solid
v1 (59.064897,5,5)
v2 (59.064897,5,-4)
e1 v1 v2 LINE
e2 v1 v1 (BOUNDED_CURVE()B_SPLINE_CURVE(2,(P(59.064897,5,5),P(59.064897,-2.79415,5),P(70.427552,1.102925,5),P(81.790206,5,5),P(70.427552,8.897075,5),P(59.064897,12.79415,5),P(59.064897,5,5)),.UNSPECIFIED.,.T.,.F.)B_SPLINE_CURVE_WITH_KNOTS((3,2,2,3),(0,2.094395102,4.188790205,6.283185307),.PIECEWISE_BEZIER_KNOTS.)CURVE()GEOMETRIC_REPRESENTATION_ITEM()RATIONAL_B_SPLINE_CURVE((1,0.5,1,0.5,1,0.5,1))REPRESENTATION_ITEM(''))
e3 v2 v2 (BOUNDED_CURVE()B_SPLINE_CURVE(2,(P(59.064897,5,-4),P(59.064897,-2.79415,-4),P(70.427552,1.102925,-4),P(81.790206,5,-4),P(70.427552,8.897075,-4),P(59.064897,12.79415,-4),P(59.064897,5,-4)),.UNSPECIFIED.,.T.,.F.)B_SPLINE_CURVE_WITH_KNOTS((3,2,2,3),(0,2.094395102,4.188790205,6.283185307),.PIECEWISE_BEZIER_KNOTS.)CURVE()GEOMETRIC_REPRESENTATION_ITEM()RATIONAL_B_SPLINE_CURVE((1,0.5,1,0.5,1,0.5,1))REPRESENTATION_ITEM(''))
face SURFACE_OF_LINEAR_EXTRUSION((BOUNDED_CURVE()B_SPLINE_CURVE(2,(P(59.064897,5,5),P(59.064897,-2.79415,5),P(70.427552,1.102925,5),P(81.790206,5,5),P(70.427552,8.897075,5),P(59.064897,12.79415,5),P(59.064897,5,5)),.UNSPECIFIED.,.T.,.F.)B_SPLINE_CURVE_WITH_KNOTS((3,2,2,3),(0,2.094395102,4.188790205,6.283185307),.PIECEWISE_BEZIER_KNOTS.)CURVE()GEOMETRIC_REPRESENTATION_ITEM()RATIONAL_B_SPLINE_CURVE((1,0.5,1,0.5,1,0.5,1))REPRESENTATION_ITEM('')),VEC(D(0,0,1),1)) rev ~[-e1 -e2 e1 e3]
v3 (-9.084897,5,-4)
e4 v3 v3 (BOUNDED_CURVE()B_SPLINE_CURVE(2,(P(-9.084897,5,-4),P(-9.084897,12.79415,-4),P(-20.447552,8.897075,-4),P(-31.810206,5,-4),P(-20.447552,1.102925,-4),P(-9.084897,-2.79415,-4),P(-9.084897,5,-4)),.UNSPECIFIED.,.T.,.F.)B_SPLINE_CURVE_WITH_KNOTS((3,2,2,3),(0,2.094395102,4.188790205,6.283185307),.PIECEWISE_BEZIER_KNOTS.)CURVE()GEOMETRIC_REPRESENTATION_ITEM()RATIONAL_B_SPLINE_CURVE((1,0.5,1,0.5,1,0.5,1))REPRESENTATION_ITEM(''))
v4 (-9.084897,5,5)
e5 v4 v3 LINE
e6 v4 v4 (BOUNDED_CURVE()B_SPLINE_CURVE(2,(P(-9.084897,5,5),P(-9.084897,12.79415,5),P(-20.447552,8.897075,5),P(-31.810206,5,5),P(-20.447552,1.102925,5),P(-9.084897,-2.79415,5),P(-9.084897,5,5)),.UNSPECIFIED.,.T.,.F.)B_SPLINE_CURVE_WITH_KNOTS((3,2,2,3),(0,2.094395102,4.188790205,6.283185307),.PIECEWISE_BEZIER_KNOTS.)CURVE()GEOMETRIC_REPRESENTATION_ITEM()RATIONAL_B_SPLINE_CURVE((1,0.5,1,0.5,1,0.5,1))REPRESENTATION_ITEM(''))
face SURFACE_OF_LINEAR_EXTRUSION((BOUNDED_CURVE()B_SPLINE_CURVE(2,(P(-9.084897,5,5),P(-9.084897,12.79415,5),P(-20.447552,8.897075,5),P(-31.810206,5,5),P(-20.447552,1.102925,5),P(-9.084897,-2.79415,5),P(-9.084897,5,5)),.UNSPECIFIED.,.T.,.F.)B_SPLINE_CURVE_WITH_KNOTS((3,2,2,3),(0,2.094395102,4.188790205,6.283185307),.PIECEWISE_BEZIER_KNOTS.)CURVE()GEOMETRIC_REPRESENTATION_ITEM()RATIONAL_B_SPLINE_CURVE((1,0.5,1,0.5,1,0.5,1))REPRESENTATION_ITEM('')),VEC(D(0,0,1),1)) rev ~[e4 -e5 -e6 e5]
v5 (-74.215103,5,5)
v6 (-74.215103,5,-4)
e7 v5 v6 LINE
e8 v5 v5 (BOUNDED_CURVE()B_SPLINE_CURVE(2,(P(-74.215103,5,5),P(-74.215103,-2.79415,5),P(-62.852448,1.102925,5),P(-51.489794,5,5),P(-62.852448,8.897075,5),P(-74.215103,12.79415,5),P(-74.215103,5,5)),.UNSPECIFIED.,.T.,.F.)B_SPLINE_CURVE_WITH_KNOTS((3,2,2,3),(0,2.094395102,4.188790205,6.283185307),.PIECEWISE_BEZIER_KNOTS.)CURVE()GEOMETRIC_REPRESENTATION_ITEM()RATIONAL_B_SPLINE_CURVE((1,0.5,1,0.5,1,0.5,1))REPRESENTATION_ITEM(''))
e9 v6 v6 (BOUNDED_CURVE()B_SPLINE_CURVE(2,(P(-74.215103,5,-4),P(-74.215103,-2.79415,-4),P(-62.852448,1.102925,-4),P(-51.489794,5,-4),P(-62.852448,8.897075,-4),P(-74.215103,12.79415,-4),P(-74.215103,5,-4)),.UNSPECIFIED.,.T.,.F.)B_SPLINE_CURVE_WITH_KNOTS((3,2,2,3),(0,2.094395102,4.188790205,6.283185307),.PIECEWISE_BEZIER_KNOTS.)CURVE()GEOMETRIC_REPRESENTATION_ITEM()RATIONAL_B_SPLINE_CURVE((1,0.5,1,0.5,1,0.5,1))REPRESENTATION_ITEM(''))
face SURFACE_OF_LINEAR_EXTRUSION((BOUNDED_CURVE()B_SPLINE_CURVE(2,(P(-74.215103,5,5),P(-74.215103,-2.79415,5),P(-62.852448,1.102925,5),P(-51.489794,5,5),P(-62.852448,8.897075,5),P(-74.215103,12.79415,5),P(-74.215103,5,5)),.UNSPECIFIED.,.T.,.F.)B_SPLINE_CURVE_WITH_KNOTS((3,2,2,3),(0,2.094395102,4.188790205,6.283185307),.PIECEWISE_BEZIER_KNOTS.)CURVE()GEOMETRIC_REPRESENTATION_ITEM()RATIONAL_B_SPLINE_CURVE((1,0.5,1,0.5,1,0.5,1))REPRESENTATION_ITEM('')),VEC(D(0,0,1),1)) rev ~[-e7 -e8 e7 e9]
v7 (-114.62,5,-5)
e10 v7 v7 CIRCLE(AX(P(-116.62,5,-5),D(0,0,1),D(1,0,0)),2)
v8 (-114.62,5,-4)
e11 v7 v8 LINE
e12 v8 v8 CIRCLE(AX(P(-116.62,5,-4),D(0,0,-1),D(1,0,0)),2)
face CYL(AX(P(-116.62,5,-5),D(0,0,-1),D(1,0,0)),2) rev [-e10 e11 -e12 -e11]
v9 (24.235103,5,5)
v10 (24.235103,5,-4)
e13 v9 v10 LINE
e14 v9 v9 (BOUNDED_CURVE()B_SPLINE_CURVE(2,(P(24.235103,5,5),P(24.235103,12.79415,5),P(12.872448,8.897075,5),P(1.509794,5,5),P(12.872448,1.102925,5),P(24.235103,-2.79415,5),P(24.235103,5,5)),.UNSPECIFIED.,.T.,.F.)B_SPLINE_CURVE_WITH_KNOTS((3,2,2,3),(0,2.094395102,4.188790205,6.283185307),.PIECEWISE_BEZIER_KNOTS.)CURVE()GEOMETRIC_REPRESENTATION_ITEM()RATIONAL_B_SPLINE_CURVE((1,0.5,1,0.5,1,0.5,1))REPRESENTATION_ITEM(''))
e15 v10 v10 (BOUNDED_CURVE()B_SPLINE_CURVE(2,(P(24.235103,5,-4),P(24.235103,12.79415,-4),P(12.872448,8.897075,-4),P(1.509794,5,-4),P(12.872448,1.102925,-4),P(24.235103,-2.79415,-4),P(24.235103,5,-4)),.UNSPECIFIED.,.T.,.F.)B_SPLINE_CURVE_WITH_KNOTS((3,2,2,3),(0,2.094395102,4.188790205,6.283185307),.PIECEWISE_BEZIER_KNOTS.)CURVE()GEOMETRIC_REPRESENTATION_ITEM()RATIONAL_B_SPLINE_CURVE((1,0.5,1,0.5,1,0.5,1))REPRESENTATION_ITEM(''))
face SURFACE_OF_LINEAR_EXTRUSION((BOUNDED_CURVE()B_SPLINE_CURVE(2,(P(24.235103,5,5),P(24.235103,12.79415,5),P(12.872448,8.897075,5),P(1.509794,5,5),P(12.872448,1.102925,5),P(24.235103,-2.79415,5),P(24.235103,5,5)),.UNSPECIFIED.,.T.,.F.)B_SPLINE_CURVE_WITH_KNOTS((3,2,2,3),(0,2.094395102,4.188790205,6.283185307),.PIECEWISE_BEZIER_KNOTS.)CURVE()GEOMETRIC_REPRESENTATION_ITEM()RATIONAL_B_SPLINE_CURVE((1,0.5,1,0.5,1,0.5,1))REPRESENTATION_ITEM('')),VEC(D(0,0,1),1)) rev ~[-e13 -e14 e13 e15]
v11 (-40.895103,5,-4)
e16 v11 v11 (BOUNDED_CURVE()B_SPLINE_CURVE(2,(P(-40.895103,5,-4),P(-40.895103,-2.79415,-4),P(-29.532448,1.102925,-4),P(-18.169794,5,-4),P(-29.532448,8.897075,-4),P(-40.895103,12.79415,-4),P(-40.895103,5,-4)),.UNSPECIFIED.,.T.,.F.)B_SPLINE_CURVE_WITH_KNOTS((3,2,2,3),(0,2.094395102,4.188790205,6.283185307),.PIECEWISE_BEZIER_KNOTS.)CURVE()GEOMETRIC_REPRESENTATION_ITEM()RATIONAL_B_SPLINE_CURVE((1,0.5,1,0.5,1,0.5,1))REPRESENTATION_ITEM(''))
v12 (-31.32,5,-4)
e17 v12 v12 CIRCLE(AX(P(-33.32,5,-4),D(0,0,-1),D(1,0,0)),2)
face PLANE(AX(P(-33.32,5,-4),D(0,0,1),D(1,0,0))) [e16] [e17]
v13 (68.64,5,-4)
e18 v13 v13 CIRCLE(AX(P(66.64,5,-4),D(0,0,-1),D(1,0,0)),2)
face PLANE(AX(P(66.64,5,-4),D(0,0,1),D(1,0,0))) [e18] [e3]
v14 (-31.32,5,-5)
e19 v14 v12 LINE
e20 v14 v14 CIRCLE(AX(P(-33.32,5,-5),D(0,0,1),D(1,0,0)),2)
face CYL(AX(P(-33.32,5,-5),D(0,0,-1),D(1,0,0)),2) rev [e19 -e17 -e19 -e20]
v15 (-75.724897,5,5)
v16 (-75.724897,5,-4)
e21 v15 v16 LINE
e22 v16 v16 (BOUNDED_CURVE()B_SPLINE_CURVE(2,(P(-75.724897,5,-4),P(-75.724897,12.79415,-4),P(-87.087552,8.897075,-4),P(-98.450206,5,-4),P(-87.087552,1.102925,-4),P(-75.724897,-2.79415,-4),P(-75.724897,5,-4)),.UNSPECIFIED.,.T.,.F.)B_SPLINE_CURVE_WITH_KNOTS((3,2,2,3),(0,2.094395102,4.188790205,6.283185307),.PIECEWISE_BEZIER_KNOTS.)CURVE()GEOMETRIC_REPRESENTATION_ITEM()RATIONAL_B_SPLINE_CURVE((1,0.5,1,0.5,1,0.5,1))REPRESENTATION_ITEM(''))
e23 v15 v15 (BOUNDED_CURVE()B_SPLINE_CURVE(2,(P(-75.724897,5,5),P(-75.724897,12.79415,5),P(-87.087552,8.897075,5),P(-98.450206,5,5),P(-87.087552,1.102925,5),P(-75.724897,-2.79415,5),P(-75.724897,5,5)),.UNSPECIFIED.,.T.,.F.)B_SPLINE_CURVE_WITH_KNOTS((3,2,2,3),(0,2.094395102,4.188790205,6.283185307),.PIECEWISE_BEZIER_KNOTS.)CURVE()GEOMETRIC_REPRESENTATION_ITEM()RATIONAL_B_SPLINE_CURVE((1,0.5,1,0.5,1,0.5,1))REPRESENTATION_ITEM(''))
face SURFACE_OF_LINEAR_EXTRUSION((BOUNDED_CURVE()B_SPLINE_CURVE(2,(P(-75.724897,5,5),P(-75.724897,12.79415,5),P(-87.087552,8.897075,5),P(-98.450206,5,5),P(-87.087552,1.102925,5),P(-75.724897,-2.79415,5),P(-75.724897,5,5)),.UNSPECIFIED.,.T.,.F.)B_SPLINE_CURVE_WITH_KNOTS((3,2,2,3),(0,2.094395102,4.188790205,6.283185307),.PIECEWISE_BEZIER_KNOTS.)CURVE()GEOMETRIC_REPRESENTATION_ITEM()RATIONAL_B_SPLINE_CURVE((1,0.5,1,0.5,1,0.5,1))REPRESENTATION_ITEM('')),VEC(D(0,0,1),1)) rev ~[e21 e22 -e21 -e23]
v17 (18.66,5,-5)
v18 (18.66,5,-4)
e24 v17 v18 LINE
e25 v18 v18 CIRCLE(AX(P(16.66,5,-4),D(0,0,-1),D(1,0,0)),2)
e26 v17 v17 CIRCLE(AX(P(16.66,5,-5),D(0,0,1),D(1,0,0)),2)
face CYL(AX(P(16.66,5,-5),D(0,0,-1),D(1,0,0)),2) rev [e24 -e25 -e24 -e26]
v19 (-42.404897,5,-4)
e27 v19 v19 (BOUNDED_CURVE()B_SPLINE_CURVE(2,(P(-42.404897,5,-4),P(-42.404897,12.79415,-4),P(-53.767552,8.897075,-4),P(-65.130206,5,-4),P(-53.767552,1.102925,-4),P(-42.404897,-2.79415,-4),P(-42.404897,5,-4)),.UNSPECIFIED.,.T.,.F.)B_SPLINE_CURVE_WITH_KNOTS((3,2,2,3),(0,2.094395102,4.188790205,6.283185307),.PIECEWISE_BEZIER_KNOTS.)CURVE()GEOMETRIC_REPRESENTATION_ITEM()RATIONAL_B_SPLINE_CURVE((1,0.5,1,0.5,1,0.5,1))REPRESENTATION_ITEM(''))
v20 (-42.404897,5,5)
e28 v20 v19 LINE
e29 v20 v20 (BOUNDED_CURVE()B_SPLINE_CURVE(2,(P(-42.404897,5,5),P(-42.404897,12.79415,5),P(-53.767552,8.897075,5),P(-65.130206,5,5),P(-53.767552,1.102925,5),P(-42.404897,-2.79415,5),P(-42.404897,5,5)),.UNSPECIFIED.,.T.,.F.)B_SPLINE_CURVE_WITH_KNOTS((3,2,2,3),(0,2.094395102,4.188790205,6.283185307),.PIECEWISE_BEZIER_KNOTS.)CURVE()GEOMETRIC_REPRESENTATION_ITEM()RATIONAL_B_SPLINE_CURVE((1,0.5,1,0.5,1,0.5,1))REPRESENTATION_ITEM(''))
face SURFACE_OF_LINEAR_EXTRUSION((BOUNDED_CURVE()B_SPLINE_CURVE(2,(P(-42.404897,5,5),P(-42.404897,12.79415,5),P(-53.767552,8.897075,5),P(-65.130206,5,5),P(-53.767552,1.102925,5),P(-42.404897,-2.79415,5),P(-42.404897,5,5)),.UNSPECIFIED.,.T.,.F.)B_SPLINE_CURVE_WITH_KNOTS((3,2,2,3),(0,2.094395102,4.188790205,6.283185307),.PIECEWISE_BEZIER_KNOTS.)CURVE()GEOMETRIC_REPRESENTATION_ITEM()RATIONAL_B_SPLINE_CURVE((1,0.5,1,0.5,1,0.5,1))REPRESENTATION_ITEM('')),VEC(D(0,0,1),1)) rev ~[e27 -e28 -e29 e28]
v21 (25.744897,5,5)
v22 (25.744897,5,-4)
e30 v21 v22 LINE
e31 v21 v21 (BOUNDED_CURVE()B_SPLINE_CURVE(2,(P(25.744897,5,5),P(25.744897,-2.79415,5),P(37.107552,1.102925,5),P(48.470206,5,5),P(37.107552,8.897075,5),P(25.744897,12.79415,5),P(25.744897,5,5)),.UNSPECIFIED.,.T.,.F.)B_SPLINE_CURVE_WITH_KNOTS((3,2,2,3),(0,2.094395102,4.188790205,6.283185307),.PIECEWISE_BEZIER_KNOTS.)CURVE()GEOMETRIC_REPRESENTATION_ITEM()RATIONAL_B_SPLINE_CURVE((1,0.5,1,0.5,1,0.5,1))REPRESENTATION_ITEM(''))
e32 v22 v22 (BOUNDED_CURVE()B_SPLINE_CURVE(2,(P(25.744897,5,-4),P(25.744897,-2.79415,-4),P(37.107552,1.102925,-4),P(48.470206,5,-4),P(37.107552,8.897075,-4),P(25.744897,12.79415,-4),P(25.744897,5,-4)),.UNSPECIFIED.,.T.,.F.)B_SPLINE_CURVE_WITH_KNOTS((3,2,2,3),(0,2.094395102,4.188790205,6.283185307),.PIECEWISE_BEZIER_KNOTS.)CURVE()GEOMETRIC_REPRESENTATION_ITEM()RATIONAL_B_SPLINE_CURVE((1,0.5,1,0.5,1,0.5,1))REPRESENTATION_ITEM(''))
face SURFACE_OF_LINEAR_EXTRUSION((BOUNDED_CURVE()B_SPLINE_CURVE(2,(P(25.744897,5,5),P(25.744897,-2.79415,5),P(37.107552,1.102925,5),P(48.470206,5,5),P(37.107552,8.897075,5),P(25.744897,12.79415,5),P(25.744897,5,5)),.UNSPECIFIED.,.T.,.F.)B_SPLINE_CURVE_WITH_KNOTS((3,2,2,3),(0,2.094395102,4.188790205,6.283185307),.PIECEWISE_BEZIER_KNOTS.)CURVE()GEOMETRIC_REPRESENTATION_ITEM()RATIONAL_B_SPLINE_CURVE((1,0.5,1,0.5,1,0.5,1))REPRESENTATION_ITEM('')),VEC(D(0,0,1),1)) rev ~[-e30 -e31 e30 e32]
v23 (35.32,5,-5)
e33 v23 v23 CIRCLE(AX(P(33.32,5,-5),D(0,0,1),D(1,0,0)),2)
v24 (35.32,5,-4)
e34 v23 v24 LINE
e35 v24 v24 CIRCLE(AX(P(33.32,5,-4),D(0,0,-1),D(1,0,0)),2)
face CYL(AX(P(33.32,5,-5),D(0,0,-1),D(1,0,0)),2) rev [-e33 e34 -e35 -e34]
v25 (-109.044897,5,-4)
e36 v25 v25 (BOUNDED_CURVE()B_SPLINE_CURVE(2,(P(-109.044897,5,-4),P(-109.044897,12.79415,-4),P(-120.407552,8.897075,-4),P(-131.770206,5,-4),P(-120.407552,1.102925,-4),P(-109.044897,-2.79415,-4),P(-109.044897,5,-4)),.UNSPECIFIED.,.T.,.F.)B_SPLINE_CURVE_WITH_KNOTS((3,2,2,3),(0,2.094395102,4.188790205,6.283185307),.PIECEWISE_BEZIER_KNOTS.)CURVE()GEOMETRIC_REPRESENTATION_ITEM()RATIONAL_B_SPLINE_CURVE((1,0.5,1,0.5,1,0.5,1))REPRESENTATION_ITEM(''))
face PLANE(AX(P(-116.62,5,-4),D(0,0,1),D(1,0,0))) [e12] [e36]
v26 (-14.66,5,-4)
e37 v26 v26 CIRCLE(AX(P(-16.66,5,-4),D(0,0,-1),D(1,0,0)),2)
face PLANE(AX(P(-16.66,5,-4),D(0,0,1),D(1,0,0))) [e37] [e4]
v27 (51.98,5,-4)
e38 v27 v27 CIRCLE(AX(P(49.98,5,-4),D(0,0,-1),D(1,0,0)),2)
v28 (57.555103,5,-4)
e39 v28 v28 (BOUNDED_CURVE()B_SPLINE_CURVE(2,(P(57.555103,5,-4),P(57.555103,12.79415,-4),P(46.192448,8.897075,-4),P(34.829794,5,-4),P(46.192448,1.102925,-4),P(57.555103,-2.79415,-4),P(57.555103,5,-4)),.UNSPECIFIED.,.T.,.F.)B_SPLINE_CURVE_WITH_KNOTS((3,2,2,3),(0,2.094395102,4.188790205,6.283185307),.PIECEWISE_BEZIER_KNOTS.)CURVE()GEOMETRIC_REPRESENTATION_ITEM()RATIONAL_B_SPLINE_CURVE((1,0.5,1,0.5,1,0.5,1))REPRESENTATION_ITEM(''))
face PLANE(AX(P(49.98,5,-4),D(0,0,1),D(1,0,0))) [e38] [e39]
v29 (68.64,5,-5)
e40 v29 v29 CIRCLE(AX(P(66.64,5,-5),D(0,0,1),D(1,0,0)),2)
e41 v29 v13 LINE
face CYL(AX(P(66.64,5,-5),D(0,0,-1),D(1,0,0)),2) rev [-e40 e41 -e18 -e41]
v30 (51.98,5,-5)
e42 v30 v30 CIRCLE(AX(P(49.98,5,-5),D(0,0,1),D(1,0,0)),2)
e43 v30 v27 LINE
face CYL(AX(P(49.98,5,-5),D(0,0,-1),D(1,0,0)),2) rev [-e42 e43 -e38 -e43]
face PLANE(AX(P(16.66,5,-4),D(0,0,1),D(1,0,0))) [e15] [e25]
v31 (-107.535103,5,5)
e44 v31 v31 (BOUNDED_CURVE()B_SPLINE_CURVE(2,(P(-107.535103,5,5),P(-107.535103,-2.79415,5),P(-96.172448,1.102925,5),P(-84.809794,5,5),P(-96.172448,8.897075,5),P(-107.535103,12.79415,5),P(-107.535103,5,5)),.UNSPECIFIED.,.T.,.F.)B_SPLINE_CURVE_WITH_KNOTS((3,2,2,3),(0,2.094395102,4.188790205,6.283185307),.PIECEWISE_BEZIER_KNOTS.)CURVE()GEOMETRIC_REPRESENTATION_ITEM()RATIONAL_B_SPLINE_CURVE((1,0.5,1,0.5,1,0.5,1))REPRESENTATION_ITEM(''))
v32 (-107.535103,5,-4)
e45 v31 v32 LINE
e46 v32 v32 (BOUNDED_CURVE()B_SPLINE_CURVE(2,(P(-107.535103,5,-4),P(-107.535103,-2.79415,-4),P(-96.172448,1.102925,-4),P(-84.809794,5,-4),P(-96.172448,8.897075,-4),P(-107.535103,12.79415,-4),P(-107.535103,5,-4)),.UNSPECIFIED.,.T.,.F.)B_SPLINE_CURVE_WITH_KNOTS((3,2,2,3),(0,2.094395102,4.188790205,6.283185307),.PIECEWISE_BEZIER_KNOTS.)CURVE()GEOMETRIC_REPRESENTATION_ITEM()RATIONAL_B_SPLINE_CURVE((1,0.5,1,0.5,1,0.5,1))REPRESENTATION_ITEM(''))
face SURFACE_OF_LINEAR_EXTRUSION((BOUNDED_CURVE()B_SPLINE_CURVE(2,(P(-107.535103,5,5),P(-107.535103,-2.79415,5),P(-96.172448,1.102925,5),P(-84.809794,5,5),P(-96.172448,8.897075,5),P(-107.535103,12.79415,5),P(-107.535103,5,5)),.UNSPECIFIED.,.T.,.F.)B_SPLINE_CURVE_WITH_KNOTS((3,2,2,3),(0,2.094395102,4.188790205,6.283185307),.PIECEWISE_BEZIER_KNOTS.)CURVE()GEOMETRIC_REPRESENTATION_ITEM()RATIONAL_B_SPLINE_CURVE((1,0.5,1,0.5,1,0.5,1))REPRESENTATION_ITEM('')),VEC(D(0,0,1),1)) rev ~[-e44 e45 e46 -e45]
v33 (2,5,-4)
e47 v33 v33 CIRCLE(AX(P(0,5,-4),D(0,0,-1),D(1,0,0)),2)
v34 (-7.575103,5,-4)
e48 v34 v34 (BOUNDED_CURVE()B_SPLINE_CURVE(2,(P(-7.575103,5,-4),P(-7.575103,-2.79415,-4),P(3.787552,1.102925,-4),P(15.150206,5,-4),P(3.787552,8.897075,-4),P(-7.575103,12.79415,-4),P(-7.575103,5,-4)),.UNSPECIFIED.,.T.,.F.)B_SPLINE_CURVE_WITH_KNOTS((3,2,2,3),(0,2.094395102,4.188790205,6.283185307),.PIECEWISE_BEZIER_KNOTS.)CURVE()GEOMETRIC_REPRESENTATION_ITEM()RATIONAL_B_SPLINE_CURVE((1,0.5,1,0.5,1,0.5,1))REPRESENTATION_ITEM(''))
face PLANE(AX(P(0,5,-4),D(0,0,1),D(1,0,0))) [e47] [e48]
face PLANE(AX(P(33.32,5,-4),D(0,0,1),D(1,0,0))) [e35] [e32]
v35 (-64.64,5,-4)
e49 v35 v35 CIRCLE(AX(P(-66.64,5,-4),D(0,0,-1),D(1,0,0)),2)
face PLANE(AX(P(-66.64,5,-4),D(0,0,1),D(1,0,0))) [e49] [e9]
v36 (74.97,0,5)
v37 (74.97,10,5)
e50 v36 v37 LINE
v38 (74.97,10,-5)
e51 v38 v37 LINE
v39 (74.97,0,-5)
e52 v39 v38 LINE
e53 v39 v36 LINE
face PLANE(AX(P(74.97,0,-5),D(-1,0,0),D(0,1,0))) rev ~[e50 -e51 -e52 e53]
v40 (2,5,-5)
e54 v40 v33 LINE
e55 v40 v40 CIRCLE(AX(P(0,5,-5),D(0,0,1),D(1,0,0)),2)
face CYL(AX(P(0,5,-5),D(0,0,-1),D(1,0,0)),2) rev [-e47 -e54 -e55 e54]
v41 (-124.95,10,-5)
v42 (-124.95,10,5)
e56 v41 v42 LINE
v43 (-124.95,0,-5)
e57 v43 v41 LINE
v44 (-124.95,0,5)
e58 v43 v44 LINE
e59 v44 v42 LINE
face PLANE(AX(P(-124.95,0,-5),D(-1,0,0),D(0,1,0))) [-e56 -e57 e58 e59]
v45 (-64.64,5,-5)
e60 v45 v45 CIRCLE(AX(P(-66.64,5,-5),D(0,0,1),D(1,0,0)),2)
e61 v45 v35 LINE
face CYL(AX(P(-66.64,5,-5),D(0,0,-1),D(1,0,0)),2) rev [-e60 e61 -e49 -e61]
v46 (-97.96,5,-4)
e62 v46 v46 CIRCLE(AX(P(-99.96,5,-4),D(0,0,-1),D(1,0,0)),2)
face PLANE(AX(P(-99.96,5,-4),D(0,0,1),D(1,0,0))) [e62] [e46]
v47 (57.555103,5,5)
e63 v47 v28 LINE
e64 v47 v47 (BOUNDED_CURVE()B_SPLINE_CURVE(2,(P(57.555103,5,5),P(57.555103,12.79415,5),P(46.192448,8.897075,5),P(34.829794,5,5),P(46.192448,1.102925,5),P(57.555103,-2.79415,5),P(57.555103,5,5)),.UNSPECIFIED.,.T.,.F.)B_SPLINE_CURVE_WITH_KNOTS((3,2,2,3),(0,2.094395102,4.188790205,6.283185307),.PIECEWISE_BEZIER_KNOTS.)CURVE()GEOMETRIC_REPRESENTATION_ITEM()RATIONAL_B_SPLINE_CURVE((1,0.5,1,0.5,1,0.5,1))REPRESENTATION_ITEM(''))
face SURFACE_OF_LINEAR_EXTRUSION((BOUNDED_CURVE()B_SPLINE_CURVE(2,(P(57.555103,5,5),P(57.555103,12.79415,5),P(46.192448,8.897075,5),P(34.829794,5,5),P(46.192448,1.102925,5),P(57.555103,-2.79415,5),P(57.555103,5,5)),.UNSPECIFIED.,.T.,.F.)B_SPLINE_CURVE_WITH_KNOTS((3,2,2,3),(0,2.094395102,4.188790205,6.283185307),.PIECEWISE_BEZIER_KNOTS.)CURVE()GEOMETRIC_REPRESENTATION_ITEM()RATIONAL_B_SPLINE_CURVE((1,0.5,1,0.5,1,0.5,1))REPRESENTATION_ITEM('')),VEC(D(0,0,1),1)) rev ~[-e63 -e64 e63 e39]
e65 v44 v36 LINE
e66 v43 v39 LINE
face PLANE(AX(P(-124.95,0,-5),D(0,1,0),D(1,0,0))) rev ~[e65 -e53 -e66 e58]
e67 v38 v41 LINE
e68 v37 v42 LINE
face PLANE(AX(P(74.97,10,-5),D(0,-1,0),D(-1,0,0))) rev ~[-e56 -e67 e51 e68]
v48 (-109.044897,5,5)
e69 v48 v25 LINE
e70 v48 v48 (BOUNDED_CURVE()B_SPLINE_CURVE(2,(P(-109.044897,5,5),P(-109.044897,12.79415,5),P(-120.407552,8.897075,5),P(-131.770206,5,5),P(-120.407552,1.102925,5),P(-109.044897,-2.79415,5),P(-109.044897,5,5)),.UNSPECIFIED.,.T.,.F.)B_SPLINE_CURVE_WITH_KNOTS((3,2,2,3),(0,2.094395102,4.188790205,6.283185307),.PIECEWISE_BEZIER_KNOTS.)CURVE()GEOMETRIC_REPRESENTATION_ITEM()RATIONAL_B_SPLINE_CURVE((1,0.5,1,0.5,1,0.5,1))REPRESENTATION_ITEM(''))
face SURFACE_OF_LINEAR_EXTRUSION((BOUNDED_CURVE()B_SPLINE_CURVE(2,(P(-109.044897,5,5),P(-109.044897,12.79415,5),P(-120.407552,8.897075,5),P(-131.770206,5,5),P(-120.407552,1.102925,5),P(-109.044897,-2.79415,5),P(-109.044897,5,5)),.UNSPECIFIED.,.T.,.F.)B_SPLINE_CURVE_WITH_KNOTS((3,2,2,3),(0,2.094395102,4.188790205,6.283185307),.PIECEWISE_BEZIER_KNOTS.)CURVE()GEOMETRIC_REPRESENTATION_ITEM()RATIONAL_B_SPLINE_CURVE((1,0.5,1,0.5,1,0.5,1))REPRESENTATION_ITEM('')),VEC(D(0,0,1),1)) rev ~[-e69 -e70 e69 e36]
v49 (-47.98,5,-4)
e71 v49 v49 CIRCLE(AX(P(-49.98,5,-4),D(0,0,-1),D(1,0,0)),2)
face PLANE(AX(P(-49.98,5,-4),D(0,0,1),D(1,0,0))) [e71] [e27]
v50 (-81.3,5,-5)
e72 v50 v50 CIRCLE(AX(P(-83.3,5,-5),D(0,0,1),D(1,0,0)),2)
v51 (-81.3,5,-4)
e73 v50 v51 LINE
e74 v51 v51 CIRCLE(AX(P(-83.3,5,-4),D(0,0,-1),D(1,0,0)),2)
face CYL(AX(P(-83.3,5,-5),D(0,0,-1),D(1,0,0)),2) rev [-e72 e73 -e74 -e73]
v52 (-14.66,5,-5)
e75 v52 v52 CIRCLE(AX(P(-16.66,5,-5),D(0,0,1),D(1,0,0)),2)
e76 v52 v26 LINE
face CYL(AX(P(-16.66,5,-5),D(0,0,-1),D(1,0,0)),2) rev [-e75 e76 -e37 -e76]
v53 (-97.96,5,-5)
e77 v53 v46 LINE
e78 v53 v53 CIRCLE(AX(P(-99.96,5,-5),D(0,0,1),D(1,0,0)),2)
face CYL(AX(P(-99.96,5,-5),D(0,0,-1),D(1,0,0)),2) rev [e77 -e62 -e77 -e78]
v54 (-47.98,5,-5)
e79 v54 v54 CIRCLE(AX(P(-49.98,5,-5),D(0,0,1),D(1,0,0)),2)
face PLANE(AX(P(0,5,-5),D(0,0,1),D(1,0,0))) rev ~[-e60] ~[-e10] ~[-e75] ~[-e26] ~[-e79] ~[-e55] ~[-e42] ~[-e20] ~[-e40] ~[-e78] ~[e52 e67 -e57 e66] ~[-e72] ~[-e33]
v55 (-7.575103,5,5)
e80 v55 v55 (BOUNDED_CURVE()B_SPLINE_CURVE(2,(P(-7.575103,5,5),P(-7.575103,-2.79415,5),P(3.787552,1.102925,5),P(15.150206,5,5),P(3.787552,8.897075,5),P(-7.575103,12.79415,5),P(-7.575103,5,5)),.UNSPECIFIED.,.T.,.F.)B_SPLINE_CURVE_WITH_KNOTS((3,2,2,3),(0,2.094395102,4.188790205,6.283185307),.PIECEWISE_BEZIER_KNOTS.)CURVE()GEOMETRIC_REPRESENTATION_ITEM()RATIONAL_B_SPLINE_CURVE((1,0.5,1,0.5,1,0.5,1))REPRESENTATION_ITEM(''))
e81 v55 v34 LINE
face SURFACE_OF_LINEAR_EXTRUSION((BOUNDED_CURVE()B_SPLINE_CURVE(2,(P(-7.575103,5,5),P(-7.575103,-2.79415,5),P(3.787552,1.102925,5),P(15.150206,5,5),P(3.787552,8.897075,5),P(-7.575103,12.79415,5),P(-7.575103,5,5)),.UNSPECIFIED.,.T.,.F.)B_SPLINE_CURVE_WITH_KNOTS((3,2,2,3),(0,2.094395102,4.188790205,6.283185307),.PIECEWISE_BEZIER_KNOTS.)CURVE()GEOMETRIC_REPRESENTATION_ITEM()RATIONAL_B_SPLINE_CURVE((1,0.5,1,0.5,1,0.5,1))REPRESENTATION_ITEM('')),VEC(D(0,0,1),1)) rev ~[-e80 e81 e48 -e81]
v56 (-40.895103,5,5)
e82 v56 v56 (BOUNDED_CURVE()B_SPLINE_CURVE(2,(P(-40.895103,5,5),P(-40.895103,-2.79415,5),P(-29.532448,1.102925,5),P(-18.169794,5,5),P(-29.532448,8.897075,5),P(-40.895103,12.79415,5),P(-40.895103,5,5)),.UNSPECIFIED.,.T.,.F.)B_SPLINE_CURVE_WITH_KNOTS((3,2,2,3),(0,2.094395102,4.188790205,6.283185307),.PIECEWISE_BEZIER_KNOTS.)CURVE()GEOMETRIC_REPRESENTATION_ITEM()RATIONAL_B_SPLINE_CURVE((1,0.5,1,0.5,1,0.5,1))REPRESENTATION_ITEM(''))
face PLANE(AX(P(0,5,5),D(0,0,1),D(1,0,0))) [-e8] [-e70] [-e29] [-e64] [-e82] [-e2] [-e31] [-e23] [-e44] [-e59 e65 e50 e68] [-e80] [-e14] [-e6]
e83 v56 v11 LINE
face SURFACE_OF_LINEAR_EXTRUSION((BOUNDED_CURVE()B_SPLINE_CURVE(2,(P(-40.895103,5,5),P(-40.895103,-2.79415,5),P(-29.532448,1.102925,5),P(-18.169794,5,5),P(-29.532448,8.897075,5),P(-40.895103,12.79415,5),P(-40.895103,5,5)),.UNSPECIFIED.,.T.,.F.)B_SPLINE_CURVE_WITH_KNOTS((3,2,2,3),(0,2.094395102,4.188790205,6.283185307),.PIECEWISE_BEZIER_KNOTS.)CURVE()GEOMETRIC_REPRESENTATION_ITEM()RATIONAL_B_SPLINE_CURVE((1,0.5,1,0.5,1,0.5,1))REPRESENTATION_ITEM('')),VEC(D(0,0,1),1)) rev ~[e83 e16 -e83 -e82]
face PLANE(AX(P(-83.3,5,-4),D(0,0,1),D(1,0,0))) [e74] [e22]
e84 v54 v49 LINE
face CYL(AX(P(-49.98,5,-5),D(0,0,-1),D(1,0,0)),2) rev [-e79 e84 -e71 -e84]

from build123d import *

# Parameters (mm, degrees)
F0_W     = 16.66
F0_H     = 10
F0_R     = 2
F1_DEPTH = 10
F4_DEPTH = 9
F5_ANGLE = -90


with BuildPart() as f1:
    # F0 (on Front) → F1 (new body)
    with BuildSketch(Plane.XZ):
        Rectangle(F0_W, F0_H)
        Circle(F0_R, mode=Mode.SUBTRACT)
        with Locations((-16.66, 0)):
            Rectangle(F0_W, F0_H)
        with Locations((-16.66, 0)):
            Circle(F0_R, mode=Mode.SUBTRACT)
        with Locations((16.66, 0)):
            Rectangle(F0_W, F0_H)
        with Locations((16.66, 0)):
            Circle(F0_R, mode=Mode.SUBTRACT)
        with Locations((-33.32, 0)):
            Rectangle(F0_W, F0_H)
        with Locations((-33.32, 0)):
            Circle(F0_R, mode=Mode.SUBTRACT)
        with Locations((33.32, 0)):
            Rectangle(F0_W, F0_H)
        with Locations((33.32, 0)):
            Circle(F0_R, mode=Mode.SUBTRACT)
        with Locations((-49.98, 0)):
            Rectangle(F0_W, F0_H)
        with Locations((-49.98, 0)):
            Circle(F0_R, mode=Mode.SUBTRACT)
        with Locations((49.98, 0)):
            Rectangle(F0_W, F0_H)
        with Locations((49.98, 0)):
            Circle(F0_R, mode=Mode.SUBTRACT)
        with Locations((-66.64, 0)):
            Rectangle(F0_W, F0_H)
        with Locations((-66.64, 0)):
            Circle(F0_R, mode=Mode.SUBTRACT)
        with Locations((66.64, 0)):
            Rectangle(F0_W, F0_H)
        with Locations((66.64, 0)):
            Circle(F0_R, mode=Mode.SUBTRACT)
        with Locations((-83.3, 0)):
            Rectangle(F0_W, F0_H)
        with Locations((-83.3, 0)):
            Circle(F0_R, mode=Mode.SUBTRACT)
        with Locations((-99.96, 0)):
            Rectangle(F0_W, F0_H)
        with Locations((-99.96, 0)):
            Circle(F0_R, mode=Mode.SUBTRACT)
        with Locations((-116.62, 0)):
            Rectangle(F0_W, F0_H)
        with Locations((-116.62, 0)):
            Circle(F0_R, mode=Mode.SUBTRACT)
    extrude(amount=F1_DEPTH)

    # F3 (on offset) → F4 (cut)
    with BuildSketch(Plane.XZ.offset(10)):
        with BuildLine():
            add(Edge.make_bspline(
                [(-75.7248969182, 0), (-75.7248969182, 7.7941499762), (-87.0875515409, 3.8970749881), (-98.4502061635, 0), (-87.0875515409, -3.8970749881), (-75.7248969182, -7.7941499762), (-75.7248969182, 0)],
                knots=[0, 0, 0, 2.0943951024, 2.0943951024, 4.1887902048, 4.1887902048, 6.2831853072, 6.2831853072, 6.2831853072], degree=2, weights=[1, 0.5, 1, 0.5, 1, 0.5, 1]))
        make_face()
        with BuildLine():
            add(Edge.make_bspline(
                [(-109.0448969182, 0), (-109.0448969182, 7.7941499762), (-120.4075515409, 3.8970749881), (-131.7702061635, 0), (-120.4075515409, -3.8970749881), (-109.0448969182, -7.7941499762), (-109.0448969182, 0)],
                knots=[0, 0, 0, 2.0943951024, 2.0943951024, 4.1887902048, 4.1887902048, 6.2831853072, 6.2831853072, 6.2831853072], degree=2, weights=[1, 0.5, 1, 0.5, 1, 0.5, 1]))
        make_face()
        with BuildLine():
            add(Edge.make_bspline(
                [(-107.5351030818, 0), (-107.5351030818, -7.7941499762), (-96.1724484591, -3.8970749881), (-84.8097938365, 0), (-96.1724484591, 3.8970749881), (-107.5351030818, 7.7941499762), (-107.5351030818, 0)],
                knots=[0, 0, 0, 2.0943951024, 2.0943951024, 4.1887902048, 4.1887902048, 6.2831853072, 6.2831853072, 6.2831853072], degree=2, weights=[1, 0.5, 1, 0.5, 1, 0.5, 1]))
        make_face()
        with BuildLine():
            add(Edge.make_bspline(
                [(-74.2151030818, 0), (-74.2151030818, -7.7941499762), (-62.8524484591, -3.8970749881), (-51.4897938365, 0), (-62.8524484591, 3.8970749881), (-74.2151030818, 7.7941499762), (-74.2151030818, 0)],
                knots=[0, 0, 0, 2.0943951024, 2.0943951024, 4.1887902048, 4.1887902048, 6.2831853072, 6.2831853072, 6.2831853072], degree=2, weights=[1, 0.5, 1, 0.5, 1, 0.5, 1]))
        make_face()
        with BuildLine():
            add(Edge.make_bspline(
                [(-42.4048969182, 0), (-42.4048969182, 7.7941499762), (-53.7675515409, 3.8970749881), (-65.1302061635, 0), (-53.7675515409, -3.8970749881), (-42.4048969182, -7.7941499762), (-42.4048969182, 0)],
                knots=[0, 0, 0, 2.0943951024, 2.0943951024, 4.1887902048, 4.1887902048, 6.2831853072, 6.2831853072, 6.2831853072], degree=2, weights=[1, 0.5, 1, 0.5, 1, 0.5, 1]))
        make_face()
        with BuildLine():
            add(Edge.make_bspline(
                [(-40.8951030818, 0), (-40.8951030818, -7.7941499762), (-29.5324484591, -3.8970749881), (-18.1697938365, 0), (-29.5324484591, 3.8970749881), (-40.8951030818, 7.7941499762), (-40.8951030818, 0)],
                knots=[0, 0, 0, 2.0943951024, 2.0943951024, 4.1887902048, 4.1887902048, 6.2831853072, 6.2831853072, 6.2831853072], degree=2, weights=[1, 0.5, 1, 0.5, 1, 0.5, 1]))
        make_face()
        with BuildLine():
            add(Edge.make_bspline(
                [(-9.0848969182, 0), (-9.0848969182, 7.7941499762), (-20.4475515409, 3.8970749881), (-31.8102061635, 0), (-20.4475515409, -3.8970749881), (-9.0848969182, -7.7941499762), (-9.0848969182, 0)],
                knots=[0, 0, 0, 2.0943951024, 2.0943951024, 4.1887902048, 4.1887902048, 6.2831853072, 6.2831853072, 6.2831853072], degree=2, weights=[1, 0.5, 1, 0.5, 1, 0.5, 1]))
        make_face()
        with BuildLine():
            add(Edge.make_bspline(
                [(-7.5751030818, 0), (-7.5751030818, -7.7941499762), (3.7875515409, -3.8970749881), (15.1502061635, 0), (3.7875515409, 3.8970749881), (-7.5751030818, 7.7941499762), (-7.5751030818, 0)],
                knots=[0, 0, 0, 2.0943951024, 2.0943951024, 4.1887902048, 4.1887902048, 6.2831853072, 6.2831853072, 6.2831853072], degree=2, weights=[1, 0.5, 1, 0.5, 1, 0.5, 1]))
        make_face()
        with BuildLine():
            add(Edge.make_bspline(
                [(24.2351030818, 0), (24.2351030818, 7.7941499762), (12.8724484591, 3.8970749881), (1.5097938365, 0), (12.8724484591, -3.8970749881), (24.2351030818, -7.7941499762), (24.2351030818, 0)],
                knots=[0, 0, 0, 2.0943951024, 2.0943951024, 4.1887902048, 4.1887902048, 6.2831853072, 6.2831853072, 6.2831853072], degree=2, weights=[1, 0.5, 1, 0.5, 1, 0.5, 1]))
        make_face()
        with BuildLine():
            add(Edge.make_bspline(
                [(25.7448969182, 0), (25.7448969182, -7.7941499762), (37.1075515409, -3.8970749881), (48.4702061635, 0), (37.1075515409, 3.8970749881), (25.7448969182, 7.7941499762), (25.7448969182, 0)],
                knots=[0, 0, 0, 2.0943951024, 2.0943951024, 4.1887902048, 4.1887902048, 6.2831853072, 6.2831853072, 6.2831853072], degree=2, weights=[1, 0.5, 1, 0.5, 1, 0.5, 1]))
        make_face()
        with BuildLine():
            add(Edge.make_bspline(
                [(57.5551030818, 0), (57.5551030818, 7.7941499762), (46.1924484591, 3.8970749881), (34.8297938365, 0), (46.1924484591, -3.8970749881), (57.5551030818, -7.7941499762), (57.5551030818, 0)],
                knots=[0, 0, 0, 2.0943951024, 2.0943951024, 4.1887902048, 4.1887902048, 6.2831853072, 6.2831853072, 6.2831853072], degree=2, weights=[1, 0.5, 1, 0.5, 1, 0.5, 1]))
        make_face()
        with BuildLine():
            add(Edge.make_bspline(
                [(59.0648969182, 0), (59.0648969182, -7.7941499762), (70.4275515409, -3.8970749881), (81.7902061635, 0), (70.4275515409, 3.8970749881), (59.0648969182, 7.7941499762), (59.0648969182, 0)],
                knots=[0, 0, 0, 2.0943951024, 2.0943951024, 4.1887902048, 4.1887902048, 6.2831853072, 6.2831853072, 6.2831853072], degree=2, weights=[1, 0.5, 1, 0.5, 1, 0.5, 1]))
        make_face()
    extrude(amount=-F4_DEPTH, mode=Mode.SUBTRACT)


with BuildPart() as f1_1:
    # F5: moved
    add(f1.part.rotate(Axis((-116.62, 0, -5), (1, 0, 0)), F5_ANGLE))


solid = f1_1.part
